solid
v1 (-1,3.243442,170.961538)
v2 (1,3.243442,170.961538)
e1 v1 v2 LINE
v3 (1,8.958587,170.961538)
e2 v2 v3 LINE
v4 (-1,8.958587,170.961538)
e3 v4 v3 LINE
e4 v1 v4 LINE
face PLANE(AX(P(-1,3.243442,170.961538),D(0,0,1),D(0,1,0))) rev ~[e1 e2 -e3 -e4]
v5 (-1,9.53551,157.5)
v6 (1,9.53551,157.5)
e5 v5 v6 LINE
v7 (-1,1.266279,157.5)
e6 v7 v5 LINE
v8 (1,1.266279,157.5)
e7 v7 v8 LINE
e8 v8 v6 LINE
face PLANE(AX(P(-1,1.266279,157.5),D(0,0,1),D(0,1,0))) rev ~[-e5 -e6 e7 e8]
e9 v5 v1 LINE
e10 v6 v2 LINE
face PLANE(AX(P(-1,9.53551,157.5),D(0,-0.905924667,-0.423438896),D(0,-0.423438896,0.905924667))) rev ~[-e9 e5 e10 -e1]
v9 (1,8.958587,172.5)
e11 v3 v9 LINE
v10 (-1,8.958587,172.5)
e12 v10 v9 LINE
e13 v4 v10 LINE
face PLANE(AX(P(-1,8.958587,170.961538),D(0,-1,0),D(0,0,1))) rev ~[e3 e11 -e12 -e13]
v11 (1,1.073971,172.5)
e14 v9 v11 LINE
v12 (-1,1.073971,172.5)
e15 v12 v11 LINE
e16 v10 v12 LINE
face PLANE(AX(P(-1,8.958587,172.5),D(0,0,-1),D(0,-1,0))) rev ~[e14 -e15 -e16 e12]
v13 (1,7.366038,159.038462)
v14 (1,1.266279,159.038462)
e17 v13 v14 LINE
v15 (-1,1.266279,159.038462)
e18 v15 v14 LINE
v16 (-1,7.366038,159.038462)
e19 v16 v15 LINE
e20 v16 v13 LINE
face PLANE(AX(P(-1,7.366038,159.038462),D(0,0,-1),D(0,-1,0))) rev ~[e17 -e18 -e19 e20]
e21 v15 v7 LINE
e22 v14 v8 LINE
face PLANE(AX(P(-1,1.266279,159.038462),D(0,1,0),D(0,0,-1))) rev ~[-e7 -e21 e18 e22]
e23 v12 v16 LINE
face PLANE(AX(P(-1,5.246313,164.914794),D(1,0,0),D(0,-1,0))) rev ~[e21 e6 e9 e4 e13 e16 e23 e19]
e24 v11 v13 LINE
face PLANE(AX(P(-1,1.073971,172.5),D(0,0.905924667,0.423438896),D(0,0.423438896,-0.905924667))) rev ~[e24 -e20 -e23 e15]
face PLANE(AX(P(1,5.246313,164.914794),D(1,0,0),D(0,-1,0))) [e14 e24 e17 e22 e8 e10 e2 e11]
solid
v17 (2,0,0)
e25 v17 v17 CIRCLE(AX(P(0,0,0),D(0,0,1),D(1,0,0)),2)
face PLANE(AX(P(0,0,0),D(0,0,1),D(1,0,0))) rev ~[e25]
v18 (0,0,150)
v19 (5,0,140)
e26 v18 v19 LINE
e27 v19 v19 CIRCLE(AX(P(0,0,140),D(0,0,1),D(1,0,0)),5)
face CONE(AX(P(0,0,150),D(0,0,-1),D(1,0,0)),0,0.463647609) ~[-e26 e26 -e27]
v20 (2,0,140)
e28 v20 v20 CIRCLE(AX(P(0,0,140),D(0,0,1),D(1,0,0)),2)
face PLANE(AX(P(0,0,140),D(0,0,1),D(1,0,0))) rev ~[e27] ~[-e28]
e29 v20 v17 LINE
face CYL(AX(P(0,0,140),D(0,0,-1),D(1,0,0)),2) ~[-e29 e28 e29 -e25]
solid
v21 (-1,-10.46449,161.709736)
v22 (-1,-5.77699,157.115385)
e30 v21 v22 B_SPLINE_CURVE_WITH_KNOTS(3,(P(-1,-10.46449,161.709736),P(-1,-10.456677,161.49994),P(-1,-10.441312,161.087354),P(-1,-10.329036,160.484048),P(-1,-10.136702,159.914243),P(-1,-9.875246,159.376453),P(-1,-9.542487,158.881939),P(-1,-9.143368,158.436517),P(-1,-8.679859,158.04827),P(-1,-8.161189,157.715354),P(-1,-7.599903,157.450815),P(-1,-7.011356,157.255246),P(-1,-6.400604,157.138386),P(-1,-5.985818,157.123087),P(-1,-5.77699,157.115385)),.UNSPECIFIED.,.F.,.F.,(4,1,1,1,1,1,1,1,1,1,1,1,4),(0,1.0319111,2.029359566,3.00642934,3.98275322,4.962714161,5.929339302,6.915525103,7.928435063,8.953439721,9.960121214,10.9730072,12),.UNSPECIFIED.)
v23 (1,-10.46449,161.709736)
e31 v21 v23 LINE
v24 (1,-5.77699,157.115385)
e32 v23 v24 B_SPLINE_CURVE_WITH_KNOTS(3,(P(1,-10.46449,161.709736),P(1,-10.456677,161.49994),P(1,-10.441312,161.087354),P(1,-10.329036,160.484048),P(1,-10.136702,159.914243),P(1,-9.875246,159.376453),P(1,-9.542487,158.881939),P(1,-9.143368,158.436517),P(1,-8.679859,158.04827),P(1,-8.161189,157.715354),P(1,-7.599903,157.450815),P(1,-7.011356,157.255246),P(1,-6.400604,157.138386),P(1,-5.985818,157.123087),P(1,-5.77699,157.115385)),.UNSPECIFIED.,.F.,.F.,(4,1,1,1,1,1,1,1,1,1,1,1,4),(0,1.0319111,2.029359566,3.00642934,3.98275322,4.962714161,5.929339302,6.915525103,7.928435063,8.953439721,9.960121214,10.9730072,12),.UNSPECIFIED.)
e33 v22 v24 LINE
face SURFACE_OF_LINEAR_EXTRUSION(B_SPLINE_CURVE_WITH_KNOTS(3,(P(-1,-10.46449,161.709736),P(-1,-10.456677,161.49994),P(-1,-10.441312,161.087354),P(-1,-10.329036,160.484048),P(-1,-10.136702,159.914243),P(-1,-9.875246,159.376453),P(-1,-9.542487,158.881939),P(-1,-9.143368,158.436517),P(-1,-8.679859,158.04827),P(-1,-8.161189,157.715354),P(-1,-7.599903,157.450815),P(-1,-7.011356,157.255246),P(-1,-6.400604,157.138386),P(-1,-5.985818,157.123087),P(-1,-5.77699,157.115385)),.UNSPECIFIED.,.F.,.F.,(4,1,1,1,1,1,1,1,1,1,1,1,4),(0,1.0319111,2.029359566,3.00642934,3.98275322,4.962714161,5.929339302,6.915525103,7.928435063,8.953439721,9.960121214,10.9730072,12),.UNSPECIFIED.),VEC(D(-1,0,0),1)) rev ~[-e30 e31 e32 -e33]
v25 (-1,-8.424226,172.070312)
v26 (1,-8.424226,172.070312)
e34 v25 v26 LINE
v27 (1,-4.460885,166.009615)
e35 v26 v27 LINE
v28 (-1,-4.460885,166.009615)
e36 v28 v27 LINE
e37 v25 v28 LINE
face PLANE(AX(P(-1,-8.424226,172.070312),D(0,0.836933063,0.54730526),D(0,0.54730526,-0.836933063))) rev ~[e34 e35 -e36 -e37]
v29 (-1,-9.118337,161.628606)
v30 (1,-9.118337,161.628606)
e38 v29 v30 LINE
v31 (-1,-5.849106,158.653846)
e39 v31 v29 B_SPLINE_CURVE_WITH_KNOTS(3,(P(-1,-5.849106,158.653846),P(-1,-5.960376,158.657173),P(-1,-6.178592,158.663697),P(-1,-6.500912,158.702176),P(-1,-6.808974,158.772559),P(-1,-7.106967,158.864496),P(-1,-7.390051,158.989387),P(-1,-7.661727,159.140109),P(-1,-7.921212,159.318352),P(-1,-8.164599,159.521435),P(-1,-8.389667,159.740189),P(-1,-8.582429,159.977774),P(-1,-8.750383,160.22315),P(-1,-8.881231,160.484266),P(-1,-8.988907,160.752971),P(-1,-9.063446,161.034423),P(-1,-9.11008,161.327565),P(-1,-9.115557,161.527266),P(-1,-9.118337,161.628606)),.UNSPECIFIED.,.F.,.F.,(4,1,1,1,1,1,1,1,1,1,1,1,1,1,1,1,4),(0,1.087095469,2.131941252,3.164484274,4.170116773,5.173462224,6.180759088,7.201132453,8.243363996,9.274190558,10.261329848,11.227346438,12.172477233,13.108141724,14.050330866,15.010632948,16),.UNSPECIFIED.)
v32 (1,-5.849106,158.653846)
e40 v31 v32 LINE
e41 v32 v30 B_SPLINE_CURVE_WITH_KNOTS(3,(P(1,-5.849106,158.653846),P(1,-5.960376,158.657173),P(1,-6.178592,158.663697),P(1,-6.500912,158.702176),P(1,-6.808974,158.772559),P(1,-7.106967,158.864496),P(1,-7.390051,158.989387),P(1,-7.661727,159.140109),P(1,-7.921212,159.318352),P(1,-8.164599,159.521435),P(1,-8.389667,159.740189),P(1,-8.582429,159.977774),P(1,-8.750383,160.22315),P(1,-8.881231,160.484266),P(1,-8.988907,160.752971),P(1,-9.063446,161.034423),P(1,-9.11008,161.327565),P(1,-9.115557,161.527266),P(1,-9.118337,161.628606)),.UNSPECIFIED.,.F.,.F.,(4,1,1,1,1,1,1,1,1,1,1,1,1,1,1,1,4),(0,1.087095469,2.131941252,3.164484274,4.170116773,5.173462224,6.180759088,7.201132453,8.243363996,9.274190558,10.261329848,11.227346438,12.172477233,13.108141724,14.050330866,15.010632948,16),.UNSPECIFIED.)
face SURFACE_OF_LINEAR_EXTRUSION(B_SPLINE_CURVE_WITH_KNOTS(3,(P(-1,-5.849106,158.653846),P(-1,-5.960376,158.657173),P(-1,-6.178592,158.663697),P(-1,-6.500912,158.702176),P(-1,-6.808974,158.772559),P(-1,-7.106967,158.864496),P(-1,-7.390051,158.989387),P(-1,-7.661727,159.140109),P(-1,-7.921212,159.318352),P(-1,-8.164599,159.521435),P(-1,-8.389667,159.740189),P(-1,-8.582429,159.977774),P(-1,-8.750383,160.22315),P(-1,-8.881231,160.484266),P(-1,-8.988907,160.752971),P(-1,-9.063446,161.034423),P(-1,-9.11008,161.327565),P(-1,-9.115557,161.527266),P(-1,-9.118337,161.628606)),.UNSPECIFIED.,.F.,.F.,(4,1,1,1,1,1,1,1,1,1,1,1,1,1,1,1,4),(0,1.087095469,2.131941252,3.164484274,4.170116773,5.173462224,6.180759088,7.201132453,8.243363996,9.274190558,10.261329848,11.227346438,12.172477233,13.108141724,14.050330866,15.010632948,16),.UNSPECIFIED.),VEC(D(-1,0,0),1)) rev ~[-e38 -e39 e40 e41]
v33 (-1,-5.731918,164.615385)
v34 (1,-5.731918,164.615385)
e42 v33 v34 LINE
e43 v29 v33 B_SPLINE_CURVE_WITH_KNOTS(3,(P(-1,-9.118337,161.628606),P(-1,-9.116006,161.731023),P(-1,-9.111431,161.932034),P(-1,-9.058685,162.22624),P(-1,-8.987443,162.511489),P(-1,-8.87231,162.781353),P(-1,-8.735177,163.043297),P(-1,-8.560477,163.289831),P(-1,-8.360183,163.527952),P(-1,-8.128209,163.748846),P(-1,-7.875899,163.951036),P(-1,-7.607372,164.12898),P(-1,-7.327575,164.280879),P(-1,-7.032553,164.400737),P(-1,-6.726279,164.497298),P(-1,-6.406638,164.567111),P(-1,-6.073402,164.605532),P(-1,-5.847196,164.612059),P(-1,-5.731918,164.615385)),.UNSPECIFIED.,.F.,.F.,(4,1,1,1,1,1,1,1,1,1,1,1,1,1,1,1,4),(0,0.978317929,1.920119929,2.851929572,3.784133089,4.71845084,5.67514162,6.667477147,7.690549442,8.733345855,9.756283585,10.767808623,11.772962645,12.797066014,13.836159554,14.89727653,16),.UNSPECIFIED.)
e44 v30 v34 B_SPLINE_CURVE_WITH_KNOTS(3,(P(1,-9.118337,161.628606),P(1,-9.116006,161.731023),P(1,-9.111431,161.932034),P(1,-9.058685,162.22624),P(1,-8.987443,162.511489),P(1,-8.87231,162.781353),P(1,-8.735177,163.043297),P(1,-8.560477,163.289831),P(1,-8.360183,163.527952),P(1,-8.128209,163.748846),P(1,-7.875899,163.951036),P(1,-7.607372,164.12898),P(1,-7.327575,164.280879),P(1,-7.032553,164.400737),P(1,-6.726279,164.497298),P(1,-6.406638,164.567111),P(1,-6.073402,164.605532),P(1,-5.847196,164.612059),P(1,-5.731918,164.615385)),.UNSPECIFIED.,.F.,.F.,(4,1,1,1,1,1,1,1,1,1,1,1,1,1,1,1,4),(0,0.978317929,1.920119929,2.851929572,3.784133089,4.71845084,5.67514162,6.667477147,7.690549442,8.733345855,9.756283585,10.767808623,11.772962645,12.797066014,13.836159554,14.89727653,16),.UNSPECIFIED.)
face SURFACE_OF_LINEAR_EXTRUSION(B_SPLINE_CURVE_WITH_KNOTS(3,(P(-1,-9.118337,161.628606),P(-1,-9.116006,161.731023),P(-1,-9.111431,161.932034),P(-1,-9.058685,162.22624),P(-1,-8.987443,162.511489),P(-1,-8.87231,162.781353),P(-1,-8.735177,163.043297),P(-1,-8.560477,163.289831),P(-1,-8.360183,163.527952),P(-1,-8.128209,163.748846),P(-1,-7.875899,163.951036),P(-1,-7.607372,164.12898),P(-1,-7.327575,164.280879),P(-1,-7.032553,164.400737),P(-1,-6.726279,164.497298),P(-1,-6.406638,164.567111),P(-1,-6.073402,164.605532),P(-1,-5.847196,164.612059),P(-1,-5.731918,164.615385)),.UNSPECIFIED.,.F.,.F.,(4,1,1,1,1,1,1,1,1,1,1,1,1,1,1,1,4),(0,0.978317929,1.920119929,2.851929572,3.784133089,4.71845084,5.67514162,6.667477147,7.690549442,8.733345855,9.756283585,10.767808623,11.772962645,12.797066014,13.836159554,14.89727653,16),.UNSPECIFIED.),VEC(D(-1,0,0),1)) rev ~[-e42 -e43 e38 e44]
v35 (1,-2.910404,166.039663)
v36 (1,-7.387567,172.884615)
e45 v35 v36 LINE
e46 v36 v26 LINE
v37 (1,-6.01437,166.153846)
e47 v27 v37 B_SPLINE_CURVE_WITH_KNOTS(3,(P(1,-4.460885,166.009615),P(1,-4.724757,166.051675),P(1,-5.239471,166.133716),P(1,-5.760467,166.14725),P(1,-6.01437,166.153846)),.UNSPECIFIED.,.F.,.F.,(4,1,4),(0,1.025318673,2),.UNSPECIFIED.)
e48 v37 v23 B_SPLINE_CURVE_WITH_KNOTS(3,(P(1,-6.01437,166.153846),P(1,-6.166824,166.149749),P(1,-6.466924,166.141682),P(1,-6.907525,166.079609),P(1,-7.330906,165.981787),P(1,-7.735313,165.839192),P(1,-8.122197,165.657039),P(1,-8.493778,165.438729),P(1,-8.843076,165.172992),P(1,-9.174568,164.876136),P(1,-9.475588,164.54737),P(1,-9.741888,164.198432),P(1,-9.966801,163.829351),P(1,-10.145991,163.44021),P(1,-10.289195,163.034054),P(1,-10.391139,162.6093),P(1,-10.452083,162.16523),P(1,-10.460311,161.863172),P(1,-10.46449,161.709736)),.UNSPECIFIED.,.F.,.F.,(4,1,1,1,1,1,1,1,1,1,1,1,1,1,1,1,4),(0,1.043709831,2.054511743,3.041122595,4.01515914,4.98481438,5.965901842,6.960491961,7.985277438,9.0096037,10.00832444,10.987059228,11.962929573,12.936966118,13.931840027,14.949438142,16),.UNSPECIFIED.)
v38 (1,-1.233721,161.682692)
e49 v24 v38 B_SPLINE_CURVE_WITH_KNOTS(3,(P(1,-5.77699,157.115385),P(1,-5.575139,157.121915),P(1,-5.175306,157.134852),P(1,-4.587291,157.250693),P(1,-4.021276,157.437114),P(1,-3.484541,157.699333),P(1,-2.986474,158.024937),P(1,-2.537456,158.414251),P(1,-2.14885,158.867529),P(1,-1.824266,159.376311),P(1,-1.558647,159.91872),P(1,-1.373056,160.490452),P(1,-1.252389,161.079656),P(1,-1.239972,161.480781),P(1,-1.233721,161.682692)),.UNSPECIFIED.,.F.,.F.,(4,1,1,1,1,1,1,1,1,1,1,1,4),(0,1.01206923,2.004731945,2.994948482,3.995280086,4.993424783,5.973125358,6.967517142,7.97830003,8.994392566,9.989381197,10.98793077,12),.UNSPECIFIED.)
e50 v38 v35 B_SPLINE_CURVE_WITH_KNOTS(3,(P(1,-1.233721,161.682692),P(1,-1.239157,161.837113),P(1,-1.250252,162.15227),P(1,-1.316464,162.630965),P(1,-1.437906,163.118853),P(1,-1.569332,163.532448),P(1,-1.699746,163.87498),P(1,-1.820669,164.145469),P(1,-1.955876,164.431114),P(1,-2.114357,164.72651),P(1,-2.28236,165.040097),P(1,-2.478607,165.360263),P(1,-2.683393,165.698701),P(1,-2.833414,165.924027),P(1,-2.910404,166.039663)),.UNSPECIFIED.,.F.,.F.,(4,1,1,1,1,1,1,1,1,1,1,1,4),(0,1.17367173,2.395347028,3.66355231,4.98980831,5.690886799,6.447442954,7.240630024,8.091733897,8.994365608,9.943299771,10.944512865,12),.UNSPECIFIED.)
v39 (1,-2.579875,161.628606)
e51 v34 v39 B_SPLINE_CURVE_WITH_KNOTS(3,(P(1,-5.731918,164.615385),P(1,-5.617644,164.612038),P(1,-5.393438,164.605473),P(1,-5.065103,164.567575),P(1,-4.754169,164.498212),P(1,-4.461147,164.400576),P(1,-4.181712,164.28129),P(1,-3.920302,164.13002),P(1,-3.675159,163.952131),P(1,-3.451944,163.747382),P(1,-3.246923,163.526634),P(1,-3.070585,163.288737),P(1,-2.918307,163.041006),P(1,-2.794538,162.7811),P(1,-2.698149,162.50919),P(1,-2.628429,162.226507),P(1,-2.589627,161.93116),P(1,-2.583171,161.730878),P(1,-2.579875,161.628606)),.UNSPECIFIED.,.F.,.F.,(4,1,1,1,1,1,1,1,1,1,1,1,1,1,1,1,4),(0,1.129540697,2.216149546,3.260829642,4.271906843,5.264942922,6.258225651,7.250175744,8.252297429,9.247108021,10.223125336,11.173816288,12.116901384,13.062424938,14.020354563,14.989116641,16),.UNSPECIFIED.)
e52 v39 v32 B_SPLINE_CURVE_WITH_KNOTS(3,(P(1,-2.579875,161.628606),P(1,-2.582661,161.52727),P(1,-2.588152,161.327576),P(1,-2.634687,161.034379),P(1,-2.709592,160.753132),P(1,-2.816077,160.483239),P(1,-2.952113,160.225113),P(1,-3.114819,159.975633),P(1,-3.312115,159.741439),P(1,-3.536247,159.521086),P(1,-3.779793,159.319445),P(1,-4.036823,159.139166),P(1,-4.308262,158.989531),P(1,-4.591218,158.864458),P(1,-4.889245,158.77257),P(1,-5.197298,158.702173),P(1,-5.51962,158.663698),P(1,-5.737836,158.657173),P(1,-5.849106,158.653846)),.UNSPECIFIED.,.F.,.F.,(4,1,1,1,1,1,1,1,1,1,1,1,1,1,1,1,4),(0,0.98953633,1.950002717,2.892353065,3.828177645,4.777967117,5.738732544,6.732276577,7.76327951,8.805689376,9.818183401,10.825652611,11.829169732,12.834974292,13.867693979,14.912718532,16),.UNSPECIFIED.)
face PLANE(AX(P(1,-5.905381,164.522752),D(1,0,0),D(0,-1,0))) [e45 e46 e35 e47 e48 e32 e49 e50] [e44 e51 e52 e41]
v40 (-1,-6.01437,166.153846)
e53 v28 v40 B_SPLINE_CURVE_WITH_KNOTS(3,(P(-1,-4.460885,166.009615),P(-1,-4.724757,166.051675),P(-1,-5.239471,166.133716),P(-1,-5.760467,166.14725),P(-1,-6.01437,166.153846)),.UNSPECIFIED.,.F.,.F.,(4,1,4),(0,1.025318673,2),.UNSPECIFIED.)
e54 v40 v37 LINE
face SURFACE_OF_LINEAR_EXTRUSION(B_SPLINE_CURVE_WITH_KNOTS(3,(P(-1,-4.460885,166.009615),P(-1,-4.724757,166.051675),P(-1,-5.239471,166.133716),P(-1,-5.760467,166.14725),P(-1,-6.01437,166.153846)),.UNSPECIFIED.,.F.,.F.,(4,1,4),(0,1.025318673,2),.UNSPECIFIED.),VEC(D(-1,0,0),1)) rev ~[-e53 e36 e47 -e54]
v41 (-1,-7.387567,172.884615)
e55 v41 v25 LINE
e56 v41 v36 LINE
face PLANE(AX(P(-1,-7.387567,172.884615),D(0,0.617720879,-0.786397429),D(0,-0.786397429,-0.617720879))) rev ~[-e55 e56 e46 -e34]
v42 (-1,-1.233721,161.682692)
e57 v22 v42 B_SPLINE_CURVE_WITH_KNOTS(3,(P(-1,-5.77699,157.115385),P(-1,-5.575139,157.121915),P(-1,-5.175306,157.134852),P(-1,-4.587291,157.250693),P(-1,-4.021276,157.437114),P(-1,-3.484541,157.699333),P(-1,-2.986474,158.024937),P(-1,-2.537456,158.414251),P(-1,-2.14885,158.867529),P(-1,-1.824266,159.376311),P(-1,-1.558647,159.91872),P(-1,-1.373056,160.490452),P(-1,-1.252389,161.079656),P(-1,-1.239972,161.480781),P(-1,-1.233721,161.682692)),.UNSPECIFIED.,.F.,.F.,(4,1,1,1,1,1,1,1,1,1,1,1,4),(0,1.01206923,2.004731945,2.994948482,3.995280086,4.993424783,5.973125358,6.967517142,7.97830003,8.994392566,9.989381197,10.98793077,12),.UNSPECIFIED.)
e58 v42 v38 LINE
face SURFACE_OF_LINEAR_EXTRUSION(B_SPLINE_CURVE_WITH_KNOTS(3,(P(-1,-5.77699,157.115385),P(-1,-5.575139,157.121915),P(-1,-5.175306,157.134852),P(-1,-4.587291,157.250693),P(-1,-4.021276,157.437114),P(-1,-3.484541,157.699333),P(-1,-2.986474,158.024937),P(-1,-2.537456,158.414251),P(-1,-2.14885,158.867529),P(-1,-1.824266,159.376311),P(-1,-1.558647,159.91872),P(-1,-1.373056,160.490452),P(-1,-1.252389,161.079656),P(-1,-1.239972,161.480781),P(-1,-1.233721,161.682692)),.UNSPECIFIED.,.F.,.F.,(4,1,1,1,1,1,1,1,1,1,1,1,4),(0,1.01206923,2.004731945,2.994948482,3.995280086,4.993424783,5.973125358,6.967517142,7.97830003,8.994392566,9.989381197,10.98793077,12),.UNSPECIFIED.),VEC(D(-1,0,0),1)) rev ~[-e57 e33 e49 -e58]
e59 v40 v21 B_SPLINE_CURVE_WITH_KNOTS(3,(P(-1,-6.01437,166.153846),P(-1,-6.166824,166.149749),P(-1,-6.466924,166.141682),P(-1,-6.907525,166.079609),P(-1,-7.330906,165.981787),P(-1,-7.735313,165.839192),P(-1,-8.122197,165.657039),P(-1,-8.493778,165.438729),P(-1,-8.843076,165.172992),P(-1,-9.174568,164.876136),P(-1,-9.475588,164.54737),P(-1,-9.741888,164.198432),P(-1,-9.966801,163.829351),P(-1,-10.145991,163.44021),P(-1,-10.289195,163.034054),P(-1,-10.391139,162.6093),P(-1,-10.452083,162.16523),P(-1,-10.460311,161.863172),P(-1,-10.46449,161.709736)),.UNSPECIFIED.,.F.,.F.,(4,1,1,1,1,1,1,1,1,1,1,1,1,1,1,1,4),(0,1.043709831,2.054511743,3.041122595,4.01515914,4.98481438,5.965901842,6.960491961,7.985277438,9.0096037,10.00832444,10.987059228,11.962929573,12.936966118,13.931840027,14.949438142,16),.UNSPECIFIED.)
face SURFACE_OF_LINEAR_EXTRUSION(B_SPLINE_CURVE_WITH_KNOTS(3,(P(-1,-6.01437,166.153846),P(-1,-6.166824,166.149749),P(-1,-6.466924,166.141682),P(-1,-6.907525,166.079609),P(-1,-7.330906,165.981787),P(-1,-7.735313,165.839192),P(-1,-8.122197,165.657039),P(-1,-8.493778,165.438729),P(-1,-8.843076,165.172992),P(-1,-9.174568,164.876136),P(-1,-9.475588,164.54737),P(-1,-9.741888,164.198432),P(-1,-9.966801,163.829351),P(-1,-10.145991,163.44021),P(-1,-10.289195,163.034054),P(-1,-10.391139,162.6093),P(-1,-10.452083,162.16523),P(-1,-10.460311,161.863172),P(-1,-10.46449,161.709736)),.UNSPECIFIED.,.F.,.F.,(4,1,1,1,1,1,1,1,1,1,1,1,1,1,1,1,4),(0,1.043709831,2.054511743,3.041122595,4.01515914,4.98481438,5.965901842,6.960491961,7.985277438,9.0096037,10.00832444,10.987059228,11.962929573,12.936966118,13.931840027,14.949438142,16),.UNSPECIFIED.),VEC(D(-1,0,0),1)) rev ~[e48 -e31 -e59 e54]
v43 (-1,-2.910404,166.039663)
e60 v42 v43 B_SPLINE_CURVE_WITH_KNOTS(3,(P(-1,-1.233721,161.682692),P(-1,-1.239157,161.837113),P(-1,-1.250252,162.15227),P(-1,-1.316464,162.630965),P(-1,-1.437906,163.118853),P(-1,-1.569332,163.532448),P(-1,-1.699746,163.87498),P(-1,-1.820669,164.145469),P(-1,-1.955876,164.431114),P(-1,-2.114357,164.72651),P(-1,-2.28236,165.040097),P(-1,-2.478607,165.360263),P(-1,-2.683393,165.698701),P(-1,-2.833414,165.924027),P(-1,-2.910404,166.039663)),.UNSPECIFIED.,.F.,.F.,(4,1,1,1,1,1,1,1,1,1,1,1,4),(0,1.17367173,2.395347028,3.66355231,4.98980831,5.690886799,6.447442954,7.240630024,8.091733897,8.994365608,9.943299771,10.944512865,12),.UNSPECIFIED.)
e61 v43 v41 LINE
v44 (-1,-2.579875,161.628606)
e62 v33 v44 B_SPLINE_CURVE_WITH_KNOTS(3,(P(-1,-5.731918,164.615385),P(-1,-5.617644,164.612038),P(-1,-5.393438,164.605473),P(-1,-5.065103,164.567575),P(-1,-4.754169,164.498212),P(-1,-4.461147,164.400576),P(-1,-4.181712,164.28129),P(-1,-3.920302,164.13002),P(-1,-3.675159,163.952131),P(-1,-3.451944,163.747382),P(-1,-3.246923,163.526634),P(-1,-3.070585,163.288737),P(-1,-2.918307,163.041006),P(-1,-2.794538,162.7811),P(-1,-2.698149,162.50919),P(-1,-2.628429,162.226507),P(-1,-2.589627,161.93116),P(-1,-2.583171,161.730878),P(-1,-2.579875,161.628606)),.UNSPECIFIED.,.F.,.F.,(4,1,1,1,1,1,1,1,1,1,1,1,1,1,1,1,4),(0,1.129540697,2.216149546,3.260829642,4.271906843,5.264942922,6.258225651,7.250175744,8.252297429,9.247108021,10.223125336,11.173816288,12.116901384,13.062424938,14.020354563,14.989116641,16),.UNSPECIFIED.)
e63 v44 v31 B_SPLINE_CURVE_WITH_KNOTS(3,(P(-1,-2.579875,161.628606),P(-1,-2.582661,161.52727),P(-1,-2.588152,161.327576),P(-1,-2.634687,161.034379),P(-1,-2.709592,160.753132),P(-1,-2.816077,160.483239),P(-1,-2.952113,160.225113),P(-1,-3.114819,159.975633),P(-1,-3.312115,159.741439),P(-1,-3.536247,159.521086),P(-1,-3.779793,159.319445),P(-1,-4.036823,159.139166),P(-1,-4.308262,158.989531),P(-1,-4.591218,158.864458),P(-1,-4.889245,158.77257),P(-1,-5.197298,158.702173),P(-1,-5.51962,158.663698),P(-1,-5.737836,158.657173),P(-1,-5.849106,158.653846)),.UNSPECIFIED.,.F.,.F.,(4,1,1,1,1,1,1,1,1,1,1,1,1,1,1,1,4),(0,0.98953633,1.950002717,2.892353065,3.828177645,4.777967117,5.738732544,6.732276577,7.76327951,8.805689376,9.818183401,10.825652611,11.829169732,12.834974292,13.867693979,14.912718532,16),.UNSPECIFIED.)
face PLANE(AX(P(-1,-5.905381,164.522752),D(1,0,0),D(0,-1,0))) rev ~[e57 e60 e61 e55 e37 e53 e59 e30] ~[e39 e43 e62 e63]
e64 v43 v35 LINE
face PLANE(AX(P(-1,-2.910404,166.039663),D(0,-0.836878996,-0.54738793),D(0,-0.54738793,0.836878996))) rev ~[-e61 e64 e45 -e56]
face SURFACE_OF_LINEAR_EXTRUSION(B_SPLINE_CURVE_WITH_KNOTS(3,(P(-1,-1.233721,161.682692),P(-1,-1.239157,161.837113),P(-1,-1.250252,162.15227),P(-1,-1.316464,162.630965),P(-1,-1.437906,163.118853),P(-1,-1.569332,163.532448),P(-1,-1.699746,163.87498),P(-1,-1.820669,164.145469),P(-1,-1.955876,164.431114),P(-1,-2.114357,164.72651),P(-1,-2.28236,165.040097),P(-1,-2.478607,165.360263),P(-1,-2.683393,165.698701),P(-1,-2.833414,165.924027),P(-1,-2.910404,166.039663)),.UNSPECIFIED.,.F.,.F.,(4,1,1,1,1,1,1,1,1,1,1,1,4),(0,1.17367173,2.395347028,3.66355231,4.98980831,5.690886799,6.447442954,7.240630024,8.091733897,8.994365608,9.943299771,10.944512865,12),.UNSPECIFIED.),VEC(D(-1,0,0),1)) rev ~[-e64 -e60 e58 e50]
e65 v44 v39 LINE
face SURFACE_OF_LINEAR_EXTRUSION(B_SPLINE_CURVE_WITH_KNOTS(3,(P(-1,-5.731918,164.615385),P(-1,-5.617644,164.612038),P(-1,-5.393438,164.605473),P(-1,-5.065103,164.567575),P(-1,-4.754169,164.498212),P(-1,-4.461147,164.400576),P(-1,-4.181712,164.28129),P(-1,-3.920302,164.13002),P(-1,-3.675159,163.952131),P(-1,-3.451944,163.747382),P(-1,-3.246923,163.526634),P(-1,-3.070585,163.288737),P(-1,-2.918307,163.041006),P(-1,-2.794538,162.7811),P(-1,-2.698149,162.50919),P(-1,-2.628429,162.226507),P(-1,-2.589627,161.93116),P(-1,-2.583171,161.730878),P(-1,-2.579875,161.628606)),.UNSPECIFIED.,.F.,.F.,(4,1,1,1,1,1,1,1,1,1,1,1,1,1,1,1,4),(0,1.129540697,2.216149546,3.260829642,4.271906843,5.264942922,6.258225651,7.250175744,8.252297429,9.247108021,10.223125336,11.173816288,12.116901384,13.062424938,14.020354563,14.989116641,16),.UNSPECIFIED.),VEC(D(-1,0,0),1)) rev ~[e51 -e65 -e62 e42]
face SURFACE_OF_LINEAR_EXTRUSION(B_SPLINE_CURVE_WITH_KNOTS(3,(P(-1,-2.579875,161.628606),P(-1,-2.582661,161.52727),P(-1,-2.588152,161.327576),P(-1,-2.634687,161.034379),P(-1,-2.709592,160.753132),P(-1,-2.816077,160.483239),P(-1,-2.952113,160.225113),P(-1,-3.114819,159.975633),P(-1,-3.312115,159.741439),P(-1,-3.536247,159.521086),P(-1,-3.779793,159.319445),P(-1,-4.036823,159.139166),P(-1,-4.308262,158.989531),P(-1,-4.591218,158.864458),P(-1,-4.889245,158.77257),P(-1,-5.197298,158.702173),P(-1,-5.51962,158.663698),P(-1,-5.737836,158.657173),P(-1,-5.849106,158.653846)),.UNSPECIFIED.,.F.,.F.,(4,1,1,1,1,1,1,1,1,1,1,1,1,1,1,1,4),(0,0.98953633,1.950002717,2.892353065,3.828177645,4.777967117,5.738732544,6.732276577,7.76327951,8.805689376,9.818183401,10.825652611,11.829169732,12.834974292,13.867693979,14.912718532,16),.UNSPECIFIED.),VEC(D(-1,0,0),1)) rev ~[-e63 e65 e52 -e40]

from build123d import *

# Parameters (mm, degrees)
BOSS_EXTRUDE1_DEPTH        = 1
BOSS_EXTRUDE1_DEPTH_BACK   = 1
BOSS_EXTRUDE1_2_DEPTH      = 1
BOSS_EXTRUDE1_2_DEPTH_BACK = 1


with BuildPart() as part:
    # Sketch2 → Revolve1 (revolve)
    with BuildSketch(Plane(origin=(0, 0, 0), x_dir=(1, 0, 0), z_dir=(0, 1, 0))):
        Polygon((0, -150), (5, -140), (2, -140), (2, 0), (0, 0), align=None)
    revolve(axis=Axis((0, 0, -41.949952025), (0, 0, 1)))


with BuildPart() as body_2:
    # Sketch3 → Boss-Extrude1 (new, two sides: drawn at the far end of the back side and taken through both)
    with BuildSketch(Plane(origin=(0, 0, 0), x_dir=(0, -1, 0), z_dir=(1, 0, 0)).offset(-BOSS_EXTRUDE1_DEPTH_BACK)):
        Polygon((-8.958586521, -170.961538462), (-8.958586521, -172.5), (-1.073971137, -172.5), (-7.366038444, -159.038461538), (-1.266278829, -159.038461538), (-1.266278829, -157.5), (-9.535509598, -157.5), (-3.243442291, -170.961538462), align=None)
    extrude(amount=BOSS_EXTRUDE1_DEPTH + BOSS_EXTRUDE1_DEPTH_BACK)


with BuildPart() as body_3:
    # Sketch3 → Boss-Extrude1 2 (new, two sides: drawn at the far end of the back side and taken through both)
    with BuildSketch(Plane(origin=(0, 0, 0), x_dir=(0, -1, 0), z_dir=(1, 0, 0)).offset(-BOSS_EXTRUDE1_2_DEPTH_BACK)):
        with BuildLine():
            Line((7.387567325, -172.884615385), (8.424225979, -172.0703125))
            Line((8.424225979, -172.0703125), (4.460884633, -166.009615385))
            add(Edge.make_bspline(
                [(4.460884633, -166.009615385), (4.724757248, -166.051674787), (5.23947062, -166.133716408), (5.760467328, -166.14725046), (6.014370209, -166.153846154)],
                knots=[0, 0, 0, 0, 1.025318673, 2, 2, 2, 2], degree=3))
            add(Edge.make_bspline(
                [(6.014370209, -166.153846154), (6.166823765, -166.149748532), (6.466924054, -166.141682487), (6.90752463, -166.079608839), (7.330905801, -165.981786938), (7.73531265, -165.839191529), (8.122197082, -165.657038681), (8.493777932, -165.43872886), (8.843075506, -165.17299167), (9.174568059, -164.876136314), (9.475587859, -164.547369878), (9.741888404, -164.198432357), (9.96680146, -163.829351346), (10.14599094, -163.440209844), (10.289195068, -163.034053996), (10.391138976, -162.609299766), (10.452082579, -162.165230263), (10.460310746, -161.863171943), (10.464490402, -161.709735577)],
                knots=[0, 0, 0, 0, 1.043709831, 2.054511743, 3.041122595, 4.01515914, 4.98481438, 5.965901842, 6.960491961, 7.985277438, 9.0096037, 10.00832444, 10.987059228, 11.962929573, 12.936966118, 13.931840027, 14.949438142, 16, 16, 16, 16], degree=3))
            add(Edge.make_bspline(
                [(10.464490402, -161.709735577), (10.45667713, -161.499939569), (10.441311524, -161.08735409), (10.329035926, -160.484047587), (10.136701892, -159.914243011), (9.875246254, -159.376452548), (9.542487381, -158.881938665), (9.143368233, -158.436516889), (8.679859323, -158.048269515), (8.161189367, -157.715354194), (7.599903237, -157.450815338), (7.011356352, -157.255246112), (6.40060363, -157.138386318), (5.985817631, -157.123087117), (5.776990402, -157.115384615)],
                knots=[0, 0, 0, 0, 1.0319111, 2.029359566, 3.00642934, 3.98275322, 4.962714161, 5.929339302, 6.915525103, 7.928435063, 8.953439721, 9.960121214, 10.9730072, 12, 12, 12, 12], degree=3))
            add(Edge.make_bspline(
                [(5.776990402, -157.115384615), (5.575138865, -157.12191544), (5.175306311, -157.13485186), (4.587290587, -157.250692626), (4.021275897, -157.437113987), (3.484540848, -157.699332813), (2.986473856, -158.024936501), (2.537456198, -158.414250968), (2.148849642, -158.867528729), (1.824265766, -159.376311485), (1.558647205, -159.918720222), (1.3730556, -160.490451538), (1.252389216, -161.079656481), (1.239971685, -161.480781294), (1.233721171, -161.682692308)],
                knots=[0, 0, 0, 0, 1.01206923, 2.004731945, 2.994948482, 3.995280086, 4.993424783, 5.973125358, 6.967517142, 7.97830003, 8.994392566, 9.989381197, 10.98793077, 12, 12, 12, 12], degree=3))
            add(Edge.make_bspline(
                [(1.233721171, -161.682692308), (1.239157378, -161.837112847), (1.250252135, -162.152269778), (1.316464364, -162.630964519), (1.437905683, -163.118852651), (1.569331733, -163.532448307), (1.699746048, -163.874980445), (1.820669201, -164.145469026), (1.95587602, -164.431113653), (2.114357241, -164.726509648), (2.282360125, -165.040097115), (2.478606559, -165.360262952), (2.683392728, -165.698700605), (2.833413854, -165.924027137), (2.910403863, -166.039663462)],
                knots=[0, 0, 0, 0, 1.17367173, 2.395347028, 3.66355231, 4.98980831, 5.690886799, 6.447442954, 7.240630024, 8.091733897, 8.994365608, 9.943299771, 10.944512865, 12, 12, 12, 12], degree=3))
            Line((2.910403863, -166.039663462), (7.387567325, -172.884615385))
        make_face()
        with BuildLine():
            add(Edge.make_bspline(
                [(5.731918286, -164.615384615), (5.617643803, -164.612038432), (5.393438208, -164.605473249), (5.065103103, -164.567575452), (4.754169296, -164.498211914), (4.461147017, -164.400575861), (4.181711815, -164.281289821), (3.920302291, -164.13002039), (3.675159154, -163.952130825), (3.451943564, -163.747382358), (3.246922766, -163.526633888), (3.070584936, -163.288737062), (2.918306509, -163.041006028), (2.794537717, -162.781100358), (2.698148876, -162.509189913), (2.628428562, -162.226506566), (2.589626566, -161.931159769), (2.583171317, -161.730877583), (2.579875017, -161.628605769)],
                knots=[0, 0, 0, 0, 1.129540697, 2.216149546, 3.260829642, 4.271906843, 5.264942922, 6.258225651, 7.250175744, 8.252297429, 9.247108021, 10.223125336, 11.173816288, 12.116901384, 13.062424938, 14.020354563, 14.989116641, 16, 16, 16, 16], degree=3))
            add(Edge.make_bspline(
                [(2.579875017, -161.628605769), (2.582661394, -161.527270268), (2.588152291, -161.327576232), (2.634686617, -161.034379419), (2.709592422, -160.753131579), (2.816076551, -160.483239431), (2.952112837, -160.225113333), (3.114819392, -159.975632853), (3.312115114, -159.741438867), (3.5362472, -159.521085993), (3.779792579, -159.319445103), (4.036823461, -159.139166208), (4.308262109, -158.989531157), (4.591217774, -158.864457508), (4.889245249, -158.772569713), (5.197297603, -158.702173196), (5.519619865, -158.663697577), (5.737835651, -158.657173061), (5.849105786, -158.653846154)],
                knots=[0, 0, 0, 0, 0.98953633, 1.950002717, 2.892353065, 3.828177645, 4.777967117, 5.738732544, 6.732276577, 7.76327951, 8.805689376, 9.818183401, 10.825652611, 11.829169732, 12.834974292, 13.867693979, 14.912718532, 16, 16, 16, 16], degree=3))
            add(Edge.make_bspline(
                [(5.849105786, -158.653846154), (5.960376104, -158.657172802), (6.178592248, -158.66369681), (6.500911916, -158.702176111), (6.808973852, -158.772559029), (7.106966521, -158.864496219), (7.390051273, -158.989386675), (7.661727396, -159.140109433), (7.92121244, -159.318352216), (8.164599428, -159.521434681), (8.389666859, -159.740188862), (8.582429019, -159.97777361), (8.750382815, -160.223149948), (8.88123106, -160.484266134), (8.988907437, -160.752971083), (9.063446275, -161.034423223), (9.110079809, -161.327564804), (9.115557089, -161.527266421), (9.118336556, -161.628605769)],
                knots=[0, 0, 0, 0, 1.087095469, 2.131941252, 3.164484274, 4.170116773, 5.173462224, 6.180759088, 7.201132453, 8.243363996, 9.274190558, 10.261329848, 11.227346438, 12.172477233, 13.108141724, 14.050330866, 15.010632948, 16, 16, 16, 16], degree=3))
            add(Edge.make_bspline(
                [(9.118336556, -161.628605769), (9.116005645, -161.731022874), (9.111430827, -161.932034344), (9.058685072, -162.22624047), (8.987443172, -162.511488594), (8.872309656, -162.781352824), (8.735176504, -163.043296813), (8.560476842, -163.289830887), (8.360183356, -163.527951683), (8.1282086, -163.748845574), (7.8758991, -163.951035701), (7.607372218, -164.128979892), (7.327575224, -164.280878587), (7.032553285, -164.400737488), (6.726279448, -164.497297507), (6.406637889, -164.567110851), (6.073401532, -164.605532255), (5.847195868, -164.612058665), (5.731918286, -164.615384615)],
                knots=[0, 0, 0, 0, 0.978317929, 1.920119929, 2.851929572, 3.784133089, 4.71845084, 5.67514162, 6.667477147, 7.690549442, 8.733345855, 9.756283585, 10.767808623, 11.772962645, 12.797066014, 13.836159554, 14.89727653, 16, 16, 16, 16], degree=3))
        make_face(mode=Mode.SUBTRACT)
    extrude(amount=BOSS_EXTRUDE1_2_DEPTH + BOSS_EXTRUDE1_2_DEPTH_BACK)


solid = Compound([part.part, body_2.part, body_3.part])
